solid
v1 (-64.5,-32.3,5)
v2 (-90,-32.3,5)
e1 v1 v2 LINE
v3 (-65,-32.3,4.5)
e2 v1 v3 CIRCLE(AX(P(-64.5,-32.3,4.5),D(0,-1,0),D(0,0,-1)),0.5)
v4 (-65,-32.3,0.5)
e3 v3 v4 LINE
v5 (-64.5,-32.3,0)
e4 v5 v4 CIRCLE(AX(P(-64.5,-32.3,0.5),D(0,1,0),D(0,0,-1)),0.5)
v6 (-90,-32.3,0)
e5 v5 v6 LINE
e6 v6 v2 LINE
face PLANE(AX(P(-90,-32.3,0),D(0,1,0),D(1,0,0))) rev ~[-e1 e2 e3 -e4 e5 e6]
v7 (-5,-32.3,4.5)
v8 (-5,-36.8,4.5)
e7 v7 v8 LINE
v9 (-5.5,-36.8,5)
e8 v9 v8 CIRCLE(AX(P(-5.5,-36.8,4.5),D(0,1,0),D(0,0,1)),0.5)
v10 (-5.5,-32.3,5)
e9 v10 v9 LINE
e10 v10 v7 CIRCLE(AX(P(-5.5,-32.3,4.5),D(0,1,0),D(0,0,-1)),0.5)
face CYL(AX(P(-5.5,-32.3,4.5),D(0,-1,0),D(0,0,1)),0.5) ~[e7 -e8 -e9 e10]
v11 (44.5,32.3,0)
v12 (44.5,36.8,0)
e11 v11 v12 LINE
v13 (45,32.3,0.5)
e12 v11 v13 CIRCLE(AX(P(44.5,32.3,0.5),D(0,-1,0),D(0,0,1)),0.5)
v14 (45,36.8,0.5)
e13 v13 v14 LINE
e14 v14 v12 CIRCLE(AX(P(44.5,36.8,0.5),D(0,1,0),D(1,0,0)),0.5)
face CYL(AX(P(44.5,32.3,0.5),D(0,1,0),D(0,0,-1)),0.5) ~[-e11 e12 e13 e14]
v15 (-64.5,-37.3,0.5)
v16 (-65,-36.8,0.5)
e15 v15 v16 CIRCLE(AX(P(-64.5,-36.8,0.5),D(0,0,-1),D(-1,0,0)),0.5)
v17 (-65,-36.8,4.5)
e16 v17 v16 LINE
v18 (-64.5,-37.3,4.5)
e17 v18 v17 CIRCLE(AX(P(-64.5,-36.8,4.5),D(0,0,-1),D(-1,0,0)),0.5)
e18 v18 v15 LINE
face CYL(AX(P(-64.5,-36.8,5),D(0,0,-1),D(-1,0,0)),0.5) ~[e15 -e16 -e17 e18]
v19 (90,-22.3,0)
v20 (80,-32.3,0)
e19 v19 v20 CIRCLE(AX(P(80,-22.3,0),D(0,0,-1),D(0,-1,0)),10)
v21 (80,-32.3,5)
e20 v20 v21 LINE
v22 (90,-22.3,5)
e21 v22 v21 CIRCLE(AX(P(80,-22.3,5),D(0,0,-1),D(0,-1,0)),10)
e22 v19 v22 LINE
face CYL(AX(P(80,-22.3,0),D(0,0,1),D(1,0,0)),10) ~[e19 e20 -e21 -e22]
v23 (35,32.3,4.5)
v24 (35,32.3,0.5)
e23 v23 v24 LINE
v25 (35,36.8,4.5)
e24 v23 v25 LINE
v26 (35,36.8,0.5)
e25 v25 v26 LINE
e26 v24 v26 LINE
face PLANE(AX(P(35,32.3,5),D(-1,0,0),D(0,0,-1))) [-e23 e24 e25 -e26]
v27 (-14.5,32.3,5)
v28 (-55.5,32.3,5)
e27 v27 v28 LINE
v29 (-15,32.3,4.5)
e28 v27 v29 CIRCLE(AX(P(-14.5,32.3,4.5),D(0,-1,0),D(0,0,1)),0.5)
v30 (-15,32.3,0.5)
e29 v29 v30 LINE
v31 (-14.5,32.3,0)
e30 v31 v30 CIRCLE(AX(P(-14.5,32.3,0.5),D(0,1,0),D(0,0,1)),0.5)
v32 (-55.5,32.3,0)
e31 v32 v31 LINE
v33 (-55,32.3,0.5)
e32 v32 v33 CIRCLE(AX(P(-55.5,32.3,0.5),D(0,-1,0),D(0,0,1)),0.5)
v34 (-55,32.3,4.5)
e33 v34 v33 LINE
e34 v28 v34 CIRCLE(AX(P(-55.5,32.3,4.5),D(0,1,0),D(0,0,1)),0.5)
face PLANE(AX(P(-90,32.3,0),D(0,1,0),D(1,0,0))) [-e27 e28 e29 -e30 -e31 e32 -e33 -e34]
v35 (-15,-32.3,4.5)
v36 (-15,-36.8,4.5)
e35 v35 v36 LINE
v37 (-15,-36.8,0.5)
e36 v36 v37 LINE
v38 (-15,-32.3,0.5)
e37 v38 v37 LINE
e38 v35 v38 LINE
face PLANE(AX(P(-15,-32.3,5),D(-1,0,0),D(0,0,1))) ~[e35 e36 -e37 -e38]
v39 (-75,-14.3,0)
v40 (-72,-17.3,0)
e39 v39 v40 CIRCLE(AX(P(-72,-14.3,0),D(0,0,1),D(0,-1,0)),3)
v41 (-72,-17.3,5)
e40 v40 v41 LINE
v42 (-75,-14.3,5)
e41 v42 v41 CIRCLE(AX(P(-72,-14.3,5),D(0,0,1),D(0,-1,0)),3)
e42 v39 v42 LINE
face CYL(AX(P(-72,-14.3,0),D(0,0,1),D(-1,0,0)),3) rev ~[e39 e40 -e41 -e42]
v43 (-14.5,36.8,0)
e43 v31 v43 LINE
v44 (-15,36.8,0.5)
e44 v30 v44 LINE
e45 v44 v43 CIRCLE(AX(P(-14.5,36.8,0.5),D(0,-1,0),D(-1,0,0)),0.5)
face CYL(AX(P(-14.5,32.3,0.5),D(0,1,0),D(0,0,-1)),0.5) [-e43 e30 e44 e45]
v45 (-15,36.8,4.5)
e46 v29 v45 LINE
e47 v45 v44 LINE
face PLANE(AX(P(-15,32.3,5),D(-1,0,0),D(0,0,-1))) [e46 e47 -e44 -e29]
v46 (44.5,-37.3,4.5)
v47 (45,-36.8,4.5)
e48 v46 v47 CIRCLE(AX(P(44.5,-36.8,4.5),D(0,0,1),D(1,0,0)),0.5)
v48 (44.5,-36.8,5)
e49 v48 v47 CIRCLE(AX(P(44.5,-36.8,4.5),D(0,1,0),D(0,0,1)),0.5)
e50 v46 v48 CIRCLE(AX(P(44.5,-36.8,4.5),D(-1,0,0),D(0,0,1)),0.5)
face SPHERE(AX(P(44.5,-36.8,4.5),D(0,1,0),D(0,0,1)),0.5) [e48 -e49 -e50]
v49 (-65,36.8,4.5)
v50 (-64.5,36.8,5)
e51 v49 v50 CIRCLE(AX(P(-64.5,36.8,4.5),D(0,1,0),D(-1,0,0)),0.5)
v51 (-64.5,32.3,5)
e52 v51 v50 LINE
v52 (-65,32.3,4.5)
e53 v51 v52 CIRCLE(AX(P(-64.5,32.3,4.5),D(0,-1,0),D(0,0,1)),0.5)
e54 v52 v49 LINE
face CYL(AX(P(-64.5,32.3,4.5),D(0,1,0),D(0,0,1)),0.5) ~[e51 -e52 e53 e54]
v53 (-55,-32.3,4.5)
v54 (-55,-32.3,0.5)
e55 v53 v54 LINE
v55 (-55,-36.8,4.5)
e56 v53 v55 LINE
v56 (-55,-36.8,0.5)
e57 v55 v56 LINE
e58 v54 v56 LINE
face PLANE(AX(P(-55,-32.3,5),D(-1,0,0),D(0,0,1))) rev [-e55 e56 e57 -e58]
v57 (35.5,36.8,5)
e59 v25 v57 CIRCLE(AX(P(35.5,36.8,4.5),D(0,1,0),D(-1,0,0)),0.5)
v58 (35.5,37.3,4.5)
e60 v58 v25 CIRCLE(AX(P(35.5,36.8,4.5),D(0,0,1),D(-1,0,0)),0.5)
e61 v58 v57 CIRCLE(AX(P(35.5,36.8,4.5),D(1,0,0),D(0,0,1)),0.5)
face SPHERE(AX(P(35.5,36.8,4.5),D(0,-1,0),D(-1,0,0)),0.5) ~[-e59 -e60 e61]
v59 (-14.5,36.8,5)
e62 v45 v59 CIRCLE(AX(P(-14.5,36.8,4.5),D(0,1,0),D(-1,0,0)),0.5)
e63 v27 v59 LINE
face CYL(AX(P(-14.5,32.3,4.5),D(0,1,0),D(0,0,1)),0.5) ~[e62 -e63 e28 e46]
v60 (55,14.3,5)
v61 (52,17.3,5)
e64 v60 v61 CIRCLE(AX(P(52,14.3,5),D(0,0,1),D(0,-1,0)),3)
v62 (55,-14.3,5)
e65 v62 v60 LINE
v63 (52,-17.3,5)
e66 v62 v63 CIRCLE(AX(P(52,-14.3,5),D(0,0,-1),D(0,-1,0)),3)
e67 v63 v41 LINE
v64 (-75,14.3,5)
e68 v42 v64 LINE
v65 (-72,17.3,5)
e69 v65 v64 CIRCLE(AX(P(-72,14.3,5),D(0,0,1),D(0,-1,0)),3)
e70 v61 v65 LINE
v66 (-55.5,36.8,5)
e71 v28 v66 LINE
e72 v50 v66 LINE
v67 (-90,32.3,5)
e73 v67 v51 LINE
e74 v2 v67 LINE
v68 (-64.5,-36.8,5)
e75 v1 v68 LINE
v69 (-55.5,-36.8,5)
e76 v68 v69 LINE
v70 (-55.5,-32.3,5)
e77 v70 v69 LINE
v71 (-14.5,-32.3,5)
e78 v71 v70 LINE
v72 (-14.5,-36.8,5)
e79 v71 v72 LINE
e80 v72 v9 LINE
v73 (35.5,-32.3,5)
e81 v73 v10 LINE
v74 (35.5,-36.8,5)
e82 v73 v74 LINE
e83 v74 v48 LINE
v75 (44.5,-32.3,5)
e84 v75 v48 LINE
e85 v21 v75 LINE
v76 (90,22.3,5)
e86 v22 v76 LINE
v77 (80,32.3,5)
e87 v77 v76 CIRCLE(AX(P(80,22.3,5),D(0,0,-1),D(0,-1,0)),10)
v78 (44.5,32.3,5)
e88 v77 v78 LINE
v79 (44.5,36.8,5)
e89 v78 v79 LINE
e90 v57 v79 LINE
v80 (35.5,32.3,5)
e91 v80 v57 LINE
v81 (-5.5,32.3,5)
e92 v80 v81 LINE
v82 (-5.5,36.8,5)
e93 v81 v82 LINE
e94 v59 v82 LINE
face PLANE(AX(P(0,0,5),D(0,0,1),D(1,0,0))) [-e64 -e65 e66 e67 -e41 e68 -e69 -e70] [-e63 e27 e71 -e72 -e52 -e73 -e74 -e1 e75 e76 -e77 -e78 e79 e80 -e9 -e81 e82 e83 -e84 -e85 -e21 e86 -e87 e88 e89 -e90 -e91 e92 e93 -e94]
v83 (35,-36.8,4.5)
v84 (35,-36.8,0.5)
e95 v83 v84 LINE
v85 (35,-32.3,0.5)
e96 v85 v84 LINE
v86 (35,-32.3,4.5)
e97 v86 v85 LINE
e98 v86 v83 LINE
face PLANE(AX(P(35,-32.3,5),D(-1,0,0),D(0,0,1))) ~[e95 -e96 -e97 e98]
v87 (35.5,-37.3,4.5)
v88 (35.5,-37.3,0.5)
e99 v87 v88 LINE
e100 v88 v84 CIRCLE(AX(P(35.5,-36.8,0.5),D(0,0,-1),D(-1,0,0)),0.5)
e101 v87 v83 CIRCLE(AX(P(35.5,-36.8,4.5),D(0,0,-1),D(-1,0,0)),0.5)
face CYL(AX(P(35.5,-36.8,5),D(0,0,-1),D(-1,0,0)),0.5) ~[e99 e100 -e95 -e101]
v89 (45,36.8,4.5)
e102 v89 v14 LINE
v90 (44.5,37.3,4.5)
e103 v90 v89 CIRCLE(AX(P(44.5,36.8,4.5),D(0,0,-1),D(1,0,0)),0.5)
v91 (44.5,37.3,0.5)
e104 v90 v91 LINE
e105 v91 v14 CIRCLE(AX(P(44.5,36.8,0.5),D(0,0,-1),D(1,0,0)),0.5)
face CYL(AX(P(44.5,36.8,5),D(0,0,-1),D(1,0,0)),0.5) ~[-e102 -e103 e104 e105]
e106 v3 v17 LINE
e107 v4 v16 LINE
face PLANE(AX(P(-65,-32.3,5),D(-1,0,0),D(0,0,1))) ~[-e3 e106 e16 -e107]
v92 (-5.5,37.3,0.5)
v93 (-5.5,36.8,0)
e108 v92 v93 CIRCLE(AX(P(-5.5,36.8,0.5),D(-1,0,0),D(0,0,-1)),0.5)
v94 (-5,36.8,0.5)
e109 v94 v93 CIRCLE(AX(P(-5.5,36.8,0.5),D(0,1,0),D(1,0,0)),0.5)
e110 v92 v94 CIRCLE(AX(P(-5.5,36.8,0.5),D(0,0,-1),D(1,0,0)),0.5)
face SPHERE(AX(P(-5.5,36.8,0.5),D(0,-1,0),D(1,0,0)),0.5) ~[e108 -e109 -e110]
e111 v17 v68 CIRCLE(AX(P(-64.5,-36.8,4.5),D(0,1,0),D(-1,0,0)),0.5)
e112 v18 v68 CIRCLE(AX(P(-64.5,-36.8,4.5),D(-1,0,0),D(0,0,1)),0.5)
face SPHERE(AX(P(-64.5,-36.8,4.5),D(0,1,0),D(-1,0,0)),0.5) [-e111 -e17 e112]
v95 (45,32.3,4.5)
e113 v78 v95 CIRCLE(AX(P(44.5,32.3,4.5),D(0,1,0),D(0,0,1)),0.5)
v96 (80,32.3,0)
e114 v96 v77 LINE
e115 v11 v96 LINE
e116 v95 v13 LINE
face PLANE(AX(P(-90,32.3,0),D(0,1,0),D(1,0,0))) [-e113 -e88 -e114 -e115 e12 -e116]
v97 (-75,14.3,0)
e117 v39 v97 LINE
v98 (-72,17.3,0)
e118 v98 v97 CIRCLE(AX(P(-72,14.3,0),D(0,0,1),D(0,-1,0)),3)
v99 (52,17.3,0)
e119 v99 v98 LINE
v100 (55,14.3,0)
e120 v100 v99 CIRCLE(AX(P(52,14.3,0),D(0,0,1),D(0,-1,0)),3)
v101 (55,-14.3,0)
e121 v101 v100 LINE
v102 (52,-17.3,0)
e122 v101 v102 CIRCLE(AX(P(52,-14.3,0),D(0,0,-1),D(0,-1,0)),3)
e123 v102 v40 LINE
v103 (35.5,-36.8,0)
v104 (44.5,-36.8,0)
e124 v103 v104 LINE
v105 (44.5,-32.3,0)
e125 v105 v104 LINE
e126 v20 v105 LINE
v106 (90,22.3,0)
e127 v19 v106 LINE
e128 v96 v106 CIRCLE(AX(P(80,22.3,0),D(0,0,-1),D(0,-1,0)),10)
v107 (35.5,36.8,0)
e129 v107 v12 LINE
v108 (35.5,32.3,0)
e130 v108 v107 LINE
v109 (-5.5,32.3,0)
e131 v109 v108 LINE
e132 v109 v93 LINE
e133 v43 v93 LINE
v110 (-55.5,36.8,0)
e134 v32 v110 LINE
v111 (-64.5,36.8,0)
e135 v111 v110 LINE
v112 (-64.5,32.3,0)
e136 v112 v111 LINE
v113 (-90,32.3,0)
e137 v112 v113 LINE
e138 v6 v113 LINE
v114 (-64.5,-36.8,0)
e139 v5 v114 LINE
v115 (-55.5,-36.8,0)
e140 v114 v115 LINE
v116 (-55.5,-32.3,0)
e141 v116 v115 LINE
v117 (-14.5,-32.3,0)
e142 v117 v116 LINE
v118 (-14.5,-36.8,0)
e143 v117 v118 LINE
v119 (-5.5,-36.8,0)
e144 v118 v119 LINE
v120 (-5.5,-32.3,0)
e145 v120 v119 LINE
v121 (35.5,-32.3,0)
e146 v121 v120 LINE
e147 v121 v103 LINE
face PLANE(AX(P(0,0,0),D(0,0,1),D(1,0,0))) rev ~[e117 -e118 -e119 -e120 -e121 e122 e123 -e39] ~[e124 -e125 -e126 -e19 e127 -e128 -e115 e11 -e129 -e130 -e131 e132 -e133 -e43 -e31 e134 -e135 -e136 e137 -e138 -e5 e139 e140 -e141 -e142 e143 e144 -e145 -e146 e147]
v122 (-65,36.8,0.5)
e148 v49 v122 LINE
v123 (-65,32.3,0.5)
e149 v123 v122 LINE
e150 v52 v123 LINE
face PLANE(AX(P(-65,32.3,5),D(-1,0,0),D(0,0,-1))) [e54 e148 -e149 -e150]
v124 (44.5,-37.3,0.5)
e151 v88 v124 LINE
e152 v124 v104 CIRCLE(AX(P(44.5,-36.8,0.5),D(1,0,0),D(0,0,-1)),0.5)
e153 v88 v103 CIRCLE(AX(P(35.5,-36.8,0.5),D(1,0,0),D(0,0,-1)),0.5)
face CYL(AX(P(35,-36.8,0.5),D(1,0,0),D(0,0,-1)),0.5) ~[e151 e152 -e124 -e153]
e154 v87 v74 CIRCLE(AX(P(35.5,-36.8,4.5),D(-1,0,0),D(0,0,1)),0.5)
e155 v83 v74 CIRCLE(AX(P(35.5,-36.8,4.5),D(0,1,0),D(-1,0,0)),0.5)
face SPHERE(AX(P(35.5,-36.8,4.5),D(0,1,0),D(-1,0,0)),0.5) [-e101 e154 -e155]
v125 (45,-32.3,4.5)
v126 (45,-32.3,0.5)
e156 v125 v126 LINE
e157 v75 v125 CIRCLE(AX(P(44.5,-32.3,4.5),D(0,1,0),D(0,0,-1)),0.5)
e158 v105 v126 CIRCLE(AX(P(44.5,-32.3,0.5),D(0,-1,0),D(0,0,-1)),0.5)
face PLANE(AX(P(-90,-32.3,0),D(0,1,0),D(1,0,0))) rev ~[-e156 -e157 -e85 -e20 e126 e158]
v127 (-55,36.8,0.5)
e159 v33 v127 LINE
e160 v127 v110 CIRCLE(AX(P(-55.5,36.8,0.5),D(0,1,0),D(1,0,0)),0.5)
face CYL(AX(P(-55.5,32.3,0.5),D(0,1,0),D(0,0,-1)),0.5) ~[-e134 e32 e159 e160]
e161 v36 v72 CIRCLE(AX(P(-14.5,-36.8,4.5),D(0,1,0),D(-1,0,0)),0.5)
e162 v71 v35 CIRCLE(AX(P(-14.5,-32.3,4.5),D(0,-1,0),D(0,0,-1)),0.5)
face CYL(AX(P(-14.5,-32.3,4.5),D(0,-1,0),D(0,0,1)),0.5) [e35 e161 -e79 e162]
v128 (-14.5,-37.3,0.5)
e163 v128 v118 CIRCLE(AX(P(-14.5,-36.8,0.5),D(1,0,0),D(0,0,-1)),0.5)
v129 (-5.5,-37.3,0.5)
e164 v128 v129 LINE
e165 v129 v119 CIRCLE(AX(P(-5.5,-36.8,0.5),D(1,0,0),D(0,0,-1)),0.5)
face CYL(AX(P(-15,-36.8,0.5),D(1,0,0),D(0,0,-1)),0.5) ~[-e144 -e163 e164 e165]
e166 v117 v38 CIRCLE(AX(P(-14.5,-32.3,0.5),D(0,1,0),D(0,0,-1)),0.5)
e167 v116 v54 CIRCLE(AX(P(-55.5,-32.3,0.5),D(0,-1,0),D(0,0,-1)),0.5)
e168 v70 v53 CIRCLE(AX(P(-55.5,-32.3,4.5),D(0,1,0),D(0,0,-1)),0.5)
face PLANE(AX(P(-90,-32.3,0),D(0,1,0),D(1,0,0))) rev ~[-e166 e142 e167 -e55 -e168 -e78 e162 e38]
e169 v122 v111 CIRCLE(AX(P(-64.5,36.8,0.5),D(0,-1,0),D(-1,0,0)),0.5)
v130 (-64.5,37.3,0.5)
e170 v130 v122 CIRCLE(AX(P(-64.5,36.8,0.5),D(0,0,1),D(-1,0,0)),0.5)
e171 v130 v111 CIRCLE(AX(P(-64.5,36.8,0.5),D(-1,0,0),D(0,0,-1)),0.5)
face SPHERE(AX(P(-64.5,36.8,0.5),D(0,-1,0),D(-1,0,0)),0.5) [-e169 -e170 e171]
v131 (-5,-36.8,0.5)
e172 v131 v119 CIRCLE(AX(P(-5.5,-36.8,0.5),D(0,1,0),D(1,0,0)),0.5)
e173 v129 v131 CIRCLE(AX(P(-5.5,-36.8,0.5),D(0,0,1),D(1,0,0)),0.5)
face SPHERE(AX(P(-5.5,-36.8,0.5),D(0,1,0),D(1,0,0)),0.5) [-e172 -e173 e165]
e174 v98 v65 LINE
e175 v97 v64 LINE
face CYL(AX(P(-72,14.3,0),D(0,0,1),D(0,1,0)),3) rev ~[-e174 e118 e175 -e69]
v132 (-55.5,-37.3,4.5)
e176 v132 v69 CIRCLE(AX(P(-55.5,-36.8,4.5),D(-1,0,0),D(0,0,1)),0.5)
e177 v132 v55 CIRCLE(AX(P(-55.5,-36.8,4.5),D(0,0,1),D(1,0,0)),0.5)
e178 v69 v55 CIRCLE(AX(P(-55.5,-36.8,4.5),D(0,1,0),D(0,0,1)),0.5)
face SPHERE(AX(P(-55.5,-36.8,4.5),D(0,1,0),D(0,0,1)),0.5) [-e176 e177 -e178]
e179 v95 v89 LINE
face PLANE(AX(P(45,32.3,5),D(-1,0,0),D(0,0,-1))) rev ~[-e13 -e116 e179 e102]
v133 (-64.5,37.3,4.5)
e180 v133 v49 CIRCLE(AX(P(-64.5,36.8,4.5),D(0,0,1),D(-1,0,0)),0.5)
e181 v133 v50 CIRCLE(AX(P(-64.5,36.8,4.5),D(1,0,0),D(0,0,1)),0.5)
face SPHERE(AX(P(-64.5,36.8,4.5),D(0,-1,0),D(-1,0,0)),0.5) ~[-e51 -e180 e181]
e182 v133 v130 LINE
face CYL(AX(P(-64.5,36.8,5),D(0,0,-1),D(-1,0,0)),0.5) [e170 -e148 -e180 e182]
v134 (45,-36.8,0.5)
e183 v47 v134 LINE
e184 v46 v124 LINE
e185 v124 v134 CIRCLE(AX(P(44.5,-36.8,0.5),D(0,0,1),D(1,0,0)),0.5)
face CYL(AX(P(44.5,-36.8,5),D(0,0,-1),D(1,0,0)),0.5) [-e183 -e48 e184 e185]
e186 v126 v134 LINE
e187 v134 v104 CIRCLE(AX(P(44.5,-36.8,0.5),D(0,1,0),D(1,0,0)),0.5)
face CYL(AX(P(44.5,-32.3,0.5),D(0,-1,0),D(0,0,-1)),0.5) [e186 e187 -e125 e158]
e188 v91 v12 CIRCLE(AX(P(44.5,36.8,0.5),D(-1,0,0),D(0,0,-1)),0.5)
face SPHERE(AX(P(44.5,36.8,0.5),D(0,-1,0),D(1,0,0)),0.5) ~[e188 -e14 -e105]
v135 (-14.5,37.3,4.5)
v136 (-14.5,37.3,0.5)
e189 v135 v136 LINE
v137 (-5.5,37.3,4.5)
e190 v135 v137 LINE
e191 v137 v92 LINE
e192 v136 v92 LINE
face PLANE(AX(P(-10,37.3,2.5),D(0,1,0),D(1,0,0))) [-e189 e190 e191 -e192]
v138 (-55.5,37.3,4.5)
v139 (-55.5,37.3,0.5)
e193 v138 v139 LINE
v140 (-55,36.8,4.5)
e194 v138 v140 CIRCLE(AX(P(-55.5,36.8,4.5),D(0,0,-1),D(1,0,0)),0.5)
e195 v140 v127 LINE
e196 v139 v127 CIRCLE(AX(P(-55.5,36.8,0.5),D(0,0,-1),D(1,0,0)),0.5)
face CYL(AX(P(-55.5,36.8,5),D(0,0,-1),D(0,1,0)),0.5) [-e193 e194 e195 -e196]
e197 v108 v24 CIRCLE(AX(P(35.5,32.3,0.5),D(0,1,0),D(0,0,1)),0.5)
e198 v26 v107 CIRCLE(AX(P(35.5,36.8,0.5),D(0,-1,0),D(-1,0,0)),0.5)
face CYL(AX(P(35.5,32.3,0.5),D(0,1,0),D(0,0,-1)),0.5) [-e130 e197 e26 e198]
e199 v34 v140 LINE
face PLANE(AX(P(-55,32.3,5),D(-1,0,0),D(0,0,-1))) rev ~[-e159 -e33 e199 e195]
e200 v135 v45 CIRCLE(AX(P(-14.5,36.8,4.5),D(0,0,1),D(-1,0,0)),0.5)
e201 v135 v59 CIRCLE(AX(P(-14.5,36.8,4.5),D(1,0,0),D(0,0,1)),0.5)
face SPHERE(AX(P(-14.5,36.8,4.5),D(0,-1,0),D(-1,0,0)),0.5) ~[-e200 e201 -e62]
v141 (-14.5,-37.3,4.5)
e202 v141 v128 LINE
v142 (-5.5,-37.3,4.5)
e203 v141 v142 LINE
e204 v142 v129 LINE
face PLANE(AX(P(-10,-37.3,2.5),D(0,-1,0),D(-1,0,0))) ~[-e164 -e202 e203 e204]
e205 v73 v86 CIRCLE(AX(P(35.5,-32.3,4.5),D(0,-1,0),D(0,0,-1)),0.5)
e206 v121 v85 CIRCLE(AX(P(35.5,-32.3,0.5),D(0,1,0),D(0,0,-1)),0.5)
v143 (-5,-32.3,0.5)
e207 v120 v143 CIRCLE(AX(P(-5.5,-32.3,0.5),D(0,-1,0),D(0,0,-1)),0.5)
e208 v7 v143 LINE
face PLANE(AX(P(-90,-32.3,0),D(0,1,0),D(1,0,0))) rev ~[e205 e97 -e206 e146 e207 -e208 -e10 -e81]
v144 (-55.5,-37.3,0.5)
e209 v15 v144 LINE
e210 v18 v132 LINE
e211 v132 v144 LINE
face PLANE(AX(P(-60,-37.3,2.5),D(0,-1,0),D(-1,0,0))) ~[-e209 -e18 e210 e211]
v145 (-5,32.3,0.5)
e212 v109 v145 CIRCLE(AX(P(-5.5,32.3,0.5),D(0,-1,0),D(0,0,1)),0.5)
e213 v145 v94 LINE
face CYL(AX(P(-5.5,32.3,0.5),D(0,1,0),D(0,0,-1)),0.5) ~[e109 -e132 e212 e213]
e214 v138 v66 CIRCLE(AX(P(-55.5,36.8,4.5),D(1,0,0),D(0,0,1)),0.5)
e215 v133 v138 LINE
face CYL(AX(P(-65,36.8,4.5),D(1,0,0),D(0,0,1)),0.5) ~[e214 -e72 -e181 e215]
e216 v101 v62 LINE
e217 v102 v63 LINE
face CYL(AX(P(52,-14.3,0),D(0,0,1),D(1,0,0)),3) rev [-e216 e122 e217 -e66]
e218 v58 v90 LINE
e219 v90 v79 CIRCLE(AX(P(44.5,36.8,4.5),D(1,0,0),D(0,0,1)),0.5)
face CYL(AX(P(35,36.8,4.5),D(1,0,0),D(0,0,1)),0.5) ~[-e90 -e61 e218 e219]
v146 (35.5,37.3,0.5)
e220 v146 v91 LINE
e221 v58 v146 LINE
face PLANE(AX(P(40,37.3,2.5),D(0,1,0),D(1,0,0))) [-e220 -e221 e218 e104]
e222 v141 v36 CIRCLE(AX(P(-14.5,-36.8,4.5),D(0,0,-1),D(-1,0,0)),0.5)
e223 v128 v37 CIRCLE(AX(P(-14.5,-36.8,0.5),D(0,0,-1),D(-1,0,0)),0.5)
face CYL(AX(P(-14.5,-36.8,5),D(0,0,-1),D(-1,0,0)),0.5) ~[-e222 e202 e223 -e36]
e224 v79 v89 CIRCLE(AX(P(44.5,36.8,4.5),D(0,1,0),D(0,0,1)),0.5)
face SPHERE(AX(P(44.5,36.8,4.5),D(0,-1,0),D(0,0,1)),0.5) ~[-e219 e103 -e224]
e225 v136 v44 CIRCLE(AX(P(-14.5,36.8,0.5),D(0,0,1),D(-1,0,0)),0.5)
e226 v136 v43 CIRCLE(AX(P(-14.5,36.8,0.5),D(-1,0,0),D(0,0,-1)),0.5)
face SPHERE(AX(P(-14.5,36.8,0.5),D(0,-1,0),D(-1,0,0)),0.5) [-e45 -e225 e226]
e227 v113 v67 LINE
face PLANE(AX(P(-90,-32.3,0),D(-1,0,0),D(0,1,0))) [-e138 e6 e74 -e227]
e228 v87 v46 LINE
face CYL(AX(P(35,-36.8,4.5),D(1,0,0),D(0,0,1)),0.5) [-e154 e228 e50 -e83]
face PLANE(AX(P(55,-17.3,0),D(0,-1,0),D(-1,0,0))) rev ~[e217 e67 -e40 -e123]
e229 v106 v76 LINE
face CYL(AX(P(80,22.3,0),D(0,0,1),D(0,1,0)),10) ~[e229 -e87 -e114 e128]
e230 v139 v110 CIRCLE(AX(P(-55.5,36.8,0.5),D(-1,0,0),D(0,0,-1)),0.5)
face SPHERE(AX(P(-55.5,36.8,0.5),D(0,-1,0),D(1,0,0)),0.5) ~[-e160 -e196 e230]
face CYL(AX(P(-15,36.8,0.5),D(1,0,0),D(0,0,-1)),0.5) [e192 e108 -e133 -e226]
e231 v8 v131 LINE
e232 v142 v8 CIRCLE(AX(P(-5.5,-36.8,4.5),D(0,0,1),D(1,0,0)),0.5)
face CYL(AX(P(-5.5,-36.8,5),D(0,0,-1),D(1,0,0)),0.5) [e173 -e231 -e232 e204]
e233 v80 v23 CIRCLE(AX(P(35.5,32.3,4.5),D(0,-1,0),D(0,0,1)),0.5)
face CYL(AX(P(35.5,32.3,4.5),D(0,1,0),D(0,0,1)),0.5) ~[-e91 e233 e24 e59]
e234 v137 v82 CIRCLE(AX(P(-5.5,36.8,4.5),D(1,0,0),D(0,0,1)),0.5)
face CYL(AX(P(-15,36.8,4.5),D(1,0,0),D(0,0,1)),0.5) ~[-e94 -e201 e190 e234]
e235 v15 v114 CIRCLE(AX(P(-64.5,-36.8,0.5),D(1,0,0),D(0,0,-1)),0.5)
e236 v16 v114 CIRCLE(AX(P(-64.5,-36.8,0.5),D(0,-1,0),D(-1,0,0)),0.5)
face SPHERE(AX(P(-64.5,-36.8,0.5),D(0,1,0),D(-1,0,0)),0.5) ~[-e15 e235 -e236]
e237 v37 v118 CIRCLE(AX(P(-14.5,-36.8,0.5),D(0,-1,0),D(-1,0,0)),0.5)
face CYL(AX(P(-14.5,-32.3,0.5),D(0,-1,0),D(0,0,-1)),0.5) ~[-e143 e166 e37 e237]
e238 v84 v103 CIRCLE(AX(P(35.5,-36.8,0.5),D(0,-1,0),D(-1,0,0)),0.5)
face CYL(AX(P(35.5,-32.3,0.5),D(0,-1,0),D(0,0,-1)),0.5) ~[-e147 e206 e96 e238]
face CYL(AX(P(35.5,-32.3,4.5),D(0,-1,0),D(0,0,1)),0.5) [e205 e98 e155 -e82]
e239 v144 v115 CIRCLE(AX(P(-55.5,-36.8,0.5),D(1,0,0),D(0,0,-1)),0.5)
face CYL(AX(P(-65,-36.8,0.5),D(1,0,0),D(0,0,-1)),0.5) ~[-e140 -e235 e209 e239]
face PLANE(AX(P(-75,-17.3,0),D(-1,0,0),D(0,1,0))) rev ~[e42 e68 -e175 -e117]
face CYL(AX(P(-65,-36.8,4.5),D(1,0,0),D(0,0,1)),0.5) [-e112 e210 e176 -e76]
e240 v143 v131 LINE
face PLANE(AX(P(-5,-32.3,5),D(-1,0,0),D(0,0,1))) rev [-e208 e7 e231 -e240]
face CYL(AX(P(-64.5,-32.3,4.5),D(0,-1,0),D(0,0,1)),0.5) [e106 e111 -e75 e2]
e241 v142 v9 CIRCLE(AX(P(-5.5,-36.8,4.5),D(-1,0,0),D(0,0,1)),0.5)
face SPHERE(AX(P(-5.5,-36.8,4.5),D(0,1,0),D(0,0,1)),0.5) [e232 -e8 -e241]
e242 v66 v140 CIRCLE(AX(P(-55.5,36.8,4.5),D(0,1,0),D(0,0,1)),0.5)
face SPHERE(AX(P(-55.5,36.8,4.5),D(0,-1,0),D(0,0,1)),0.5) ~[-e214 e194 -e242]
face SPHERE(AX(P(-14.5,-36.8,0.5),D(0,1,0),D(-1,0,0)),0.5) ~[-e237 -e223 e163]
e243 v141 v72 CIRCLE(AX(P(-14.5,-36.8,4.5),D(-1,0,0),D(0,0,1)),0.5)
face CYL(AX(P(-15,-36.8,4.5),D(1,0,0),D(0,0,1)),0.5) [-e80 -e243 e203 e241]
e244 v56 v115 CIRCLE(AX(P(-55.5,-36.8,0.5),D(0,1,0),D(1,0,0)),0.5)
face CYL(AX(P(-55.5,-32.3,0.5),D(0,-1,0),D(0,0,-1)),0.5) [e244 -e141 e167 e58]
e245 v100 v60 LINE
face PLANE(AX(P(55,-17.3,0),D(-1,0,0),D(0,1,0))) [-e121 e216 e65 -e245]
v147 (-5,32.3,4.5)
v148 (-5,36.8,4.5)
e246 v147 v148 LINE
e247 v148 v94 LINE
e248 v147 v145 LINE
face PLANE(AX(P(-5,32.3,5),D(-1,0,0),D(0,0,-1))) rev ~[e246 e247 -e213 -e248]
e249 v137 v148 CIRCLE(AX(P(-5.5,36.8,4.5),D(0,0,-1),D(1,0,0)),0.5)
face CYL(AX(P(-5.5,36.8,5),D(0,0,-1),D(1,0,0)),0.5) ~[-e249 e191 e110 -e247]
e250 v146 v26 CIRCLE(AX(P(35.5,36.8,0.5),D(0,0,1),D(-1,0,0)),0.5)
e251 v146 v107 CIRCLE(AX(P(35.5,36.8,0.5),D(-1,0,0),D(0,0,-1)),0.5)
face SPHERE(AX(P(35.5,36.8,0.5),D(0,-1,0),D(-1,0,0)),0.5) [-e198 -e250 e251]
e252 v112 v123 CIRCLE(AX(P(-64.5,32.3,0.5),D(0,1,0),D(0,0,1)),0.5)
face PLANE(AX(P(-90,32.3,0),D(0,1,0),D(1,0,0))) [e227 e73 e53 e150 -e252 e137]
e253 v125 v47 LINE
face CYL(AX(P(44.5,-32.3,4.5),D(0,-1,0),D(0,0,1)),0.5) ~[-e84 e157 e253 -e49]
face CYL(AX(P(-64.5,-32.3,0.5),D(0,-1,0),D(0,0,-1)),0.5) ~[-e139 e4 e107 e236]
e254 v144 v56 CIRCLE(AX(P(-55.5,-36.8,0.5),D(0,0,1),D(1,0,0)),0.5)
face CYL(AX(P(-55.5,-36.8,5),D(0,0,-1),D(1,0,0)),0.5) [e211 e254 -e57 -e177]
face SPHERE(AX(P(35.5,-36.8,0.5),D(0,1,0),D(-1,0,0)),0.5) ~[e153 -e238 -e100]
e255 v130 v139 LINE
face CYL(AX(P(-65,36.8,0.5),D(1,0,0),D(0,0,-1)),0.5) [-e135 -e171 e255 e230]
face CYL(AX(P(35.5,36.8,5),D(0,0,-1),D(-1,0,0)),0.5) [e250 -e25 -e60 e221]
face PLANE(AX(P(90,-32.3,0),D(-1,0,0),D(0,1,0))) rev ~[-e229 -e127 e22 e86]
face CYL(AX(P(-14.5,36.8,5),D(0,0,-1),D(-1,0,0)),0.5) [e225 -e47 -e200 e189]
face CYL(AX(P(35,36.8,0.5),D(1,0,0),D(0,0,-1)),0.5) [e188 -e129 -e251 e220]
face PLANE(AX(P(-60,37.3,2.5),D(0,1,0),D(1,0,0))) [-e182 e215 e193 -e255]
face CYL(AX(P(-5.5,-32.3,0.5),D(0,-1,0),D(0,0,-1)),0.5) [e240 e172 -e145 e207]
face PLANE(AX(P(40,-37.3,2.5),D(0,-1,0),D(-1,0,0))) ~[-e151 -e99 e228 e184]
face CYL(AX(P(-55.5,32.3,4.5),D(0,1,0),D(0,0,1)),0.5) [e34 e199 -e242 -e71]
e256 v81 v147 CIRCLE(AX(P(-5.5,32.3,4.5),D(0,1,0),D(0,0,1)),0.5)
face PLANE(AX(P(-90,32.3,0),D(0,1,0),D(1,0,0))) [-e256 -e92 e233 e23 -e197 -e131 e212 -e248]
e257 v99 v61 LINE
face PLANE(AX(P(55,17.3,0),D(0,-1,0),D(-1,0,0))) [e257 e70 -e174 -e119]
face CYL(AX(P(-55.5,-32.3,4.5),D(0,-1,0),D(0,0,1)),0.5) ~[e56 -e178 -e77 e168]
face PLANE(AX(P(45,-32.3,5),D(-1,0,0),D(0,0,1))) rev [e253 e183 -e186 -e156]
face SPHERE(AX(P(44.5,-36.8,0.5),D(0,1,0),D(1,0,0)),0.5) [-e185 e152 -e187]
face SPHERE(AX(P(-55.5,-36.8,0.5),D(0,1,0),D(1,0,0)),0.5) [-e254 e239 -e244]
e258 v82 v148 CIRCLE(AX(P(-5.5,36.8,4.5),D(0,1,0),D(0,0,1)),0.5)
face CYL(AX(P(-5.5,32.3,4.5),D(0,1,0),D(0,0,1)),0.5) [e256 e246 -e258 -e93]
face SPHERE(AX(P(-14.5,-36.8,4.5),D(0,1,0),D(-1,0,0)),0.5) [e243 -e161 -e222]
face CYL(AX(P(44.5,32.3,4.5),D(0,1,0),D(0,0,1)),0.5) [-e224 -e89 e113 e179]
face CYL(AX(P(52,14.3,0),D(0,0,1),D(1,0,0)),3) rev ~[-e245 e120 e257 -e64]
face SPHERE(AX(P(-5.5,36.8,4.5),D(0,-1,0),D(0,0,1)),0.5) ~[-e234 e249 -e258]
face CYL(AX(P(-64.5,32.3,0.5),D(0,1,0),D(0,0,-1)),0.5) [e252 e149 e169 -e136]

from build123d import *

# Parameters (mm, degrees)
CROQUIS1_W               = 180
CROQUIS1_H               = 64.6
SALIENTE_EXTRUIR1_DEPTH  = 5
CROQUIS2_W               = 10
CROQUIS2_H               = 5
SALIENTE_EXTRUIR2_DEPTH  = 5
REDONDEO1_R              = 0.5
REDONDEO1_OF_SIMETR_A1_R = 0.5
REDONDEO2_R              = 10
CROQUIS3_W               = 130
CROQUIS3_H               = 34.6
CORTAR_EXTRUIR1_DEPTH    = 5
REDONDEO3_R              = 3


with BuildPart() as part:
    # Croquis1 → Saliente-Extruir1 (new body)
    with BuildSketch(Plane.XY):
        Rectangle(CROQUIS1_W, CROQUIS1_H)
    extrude(amount=SALIENTE_EXTRUIR1_DEPTH)

    # Croquis2 → Saliente-Extruir2 (add)
    with BuildSketch(Plane(origin=(0, 32.3, 0), x_dir=(1, 0, 0), z_dir=(0, 1, 0))):
        with Locations((-60, -2.5)):
            Rectangle(CROQUIS2_W, CROQUIS2_H)
        with Locations((-10, -2.5)):
            Rectangle(CROQUIS2_W, CROQUIS2_H)
        with Locations((40, -2.5)):
            Rectangle(CROQUIS2_W, CROQUIS2_H)
    saliente_extruir2 = extrude(amount=SALIENTE_EXTRUIR2_DEPTH)

    # Redondeo1
    redondeo1_edges = [part.edges().sort_by_distance(p)[0] for p in [
        (-65, 34.8, 0),
        (-65, 34.8, 5),
        (-55, 34.8, 5),
        (-55, 34.8, 0),
        (-65, 37.3, 2.5),
        (-60, 37.3, 5),
        (-55, 37.3, 2.5),
        (-60, 37.3, 0),
        (-15, 34.8, 0),
        (-15, 34.8, 5),
        (-5, 34.8, 5),
        (-5, 34.8, 0),
        (-15, 37.3, 2.5),
        (-10, 37.3, 5),
        (-5, 37.3, 2.5),
        (-10, 37.3, 0),
        (35, 34.8, 0),
        (35, 34.8, 5),
        (45, 34.8, 5),
        (45, 34.8, 0),
        (35, 37.3, 2.5),
        (40, 37.3, 5),
        (45, 37.3, 2.5),
        (40, 37.3, 0),
    ]]
    fillet(redondeo1_edges, radius=REDONDEO1_R)

    # Simetría1: Saliente-Extruir2 across plane
    add(saliente_extruir2.mirror(Plane.ZX))

    # Redondeo1 of Simetría1
    redondeo1_of_simetr_a1_edges = [part.edges().sort_by_distance(p)[0] for p in [
        (-65, -34.8, 0),
        (-65, -34.8, 5),
        (-55, -34.8, 5),
        (-55, -34.8, 0),
        (-65, -37.3, 2.5),
        (-60, -37.3, 5),
        (-55, -37.3, 2.5),
        (-60, -37.3, 0),
        (-15, -34.8, 0),
        (-15, -34.8, 5),
        (-5, -34.8, 5),
        (-5, -34.8, 0),
        (-15, -37.3, 2.5),
        (-10, -37.3, 5),
        (-5, -37.3, 2.5),
        (-10, -37.3, 0),
        (35, -34.8, 0),
        (35, -34.8, 5),
        (45, -34.8, 5),
        (45, -34.8, 0),
        (35, -37.3, 2.5),
        (40, -37.3, 5),
        (45, -37.3, 2.5),
        (40, -37.3, 0),
    ]]
    fillet(redondeo1_of_simetr_a1_edges, radius=REDONDEO1_OF_SIMETR_A1_R)

    # Redondeo2
    redondeo2_edges = [part.edges().sort_by_distance(p)[0] for p in [
        (90, 32.3, 2.5),
        (90, -32.3, 2.5),
    ]]
    fillet(redondeo2_edges, radius=REDONDEO2_R)

    # Croquis3 → Cortar-Extruir1 (cut)
    with BuildSketch(Plane(origin=(0, 0, 0), x_dir=(-1, 0, 0), z_dir=(0, 0, -1))):
        with Locations((10, 0)):
            Rectangle(CROQUIS3_W, CROQUIS3_H)
    extrude(amount=-CORTAR_EXTRUIR1_DEPTH, mode=Mode.SUBTRACT)

    # Redondeo3
    redondeo3_edges = [part.edges().sort_by_distance(p)[0] for p in [
        (55, -17.3, 2.5),
        (55, 17.3, 2.5),
        (-75, 17.3, 2.5),
        (-75, -17.3, 2.5),
    ]]
    fillet(redondeo3_edges, radius=REDONDEO3_R)


solid = part.part
